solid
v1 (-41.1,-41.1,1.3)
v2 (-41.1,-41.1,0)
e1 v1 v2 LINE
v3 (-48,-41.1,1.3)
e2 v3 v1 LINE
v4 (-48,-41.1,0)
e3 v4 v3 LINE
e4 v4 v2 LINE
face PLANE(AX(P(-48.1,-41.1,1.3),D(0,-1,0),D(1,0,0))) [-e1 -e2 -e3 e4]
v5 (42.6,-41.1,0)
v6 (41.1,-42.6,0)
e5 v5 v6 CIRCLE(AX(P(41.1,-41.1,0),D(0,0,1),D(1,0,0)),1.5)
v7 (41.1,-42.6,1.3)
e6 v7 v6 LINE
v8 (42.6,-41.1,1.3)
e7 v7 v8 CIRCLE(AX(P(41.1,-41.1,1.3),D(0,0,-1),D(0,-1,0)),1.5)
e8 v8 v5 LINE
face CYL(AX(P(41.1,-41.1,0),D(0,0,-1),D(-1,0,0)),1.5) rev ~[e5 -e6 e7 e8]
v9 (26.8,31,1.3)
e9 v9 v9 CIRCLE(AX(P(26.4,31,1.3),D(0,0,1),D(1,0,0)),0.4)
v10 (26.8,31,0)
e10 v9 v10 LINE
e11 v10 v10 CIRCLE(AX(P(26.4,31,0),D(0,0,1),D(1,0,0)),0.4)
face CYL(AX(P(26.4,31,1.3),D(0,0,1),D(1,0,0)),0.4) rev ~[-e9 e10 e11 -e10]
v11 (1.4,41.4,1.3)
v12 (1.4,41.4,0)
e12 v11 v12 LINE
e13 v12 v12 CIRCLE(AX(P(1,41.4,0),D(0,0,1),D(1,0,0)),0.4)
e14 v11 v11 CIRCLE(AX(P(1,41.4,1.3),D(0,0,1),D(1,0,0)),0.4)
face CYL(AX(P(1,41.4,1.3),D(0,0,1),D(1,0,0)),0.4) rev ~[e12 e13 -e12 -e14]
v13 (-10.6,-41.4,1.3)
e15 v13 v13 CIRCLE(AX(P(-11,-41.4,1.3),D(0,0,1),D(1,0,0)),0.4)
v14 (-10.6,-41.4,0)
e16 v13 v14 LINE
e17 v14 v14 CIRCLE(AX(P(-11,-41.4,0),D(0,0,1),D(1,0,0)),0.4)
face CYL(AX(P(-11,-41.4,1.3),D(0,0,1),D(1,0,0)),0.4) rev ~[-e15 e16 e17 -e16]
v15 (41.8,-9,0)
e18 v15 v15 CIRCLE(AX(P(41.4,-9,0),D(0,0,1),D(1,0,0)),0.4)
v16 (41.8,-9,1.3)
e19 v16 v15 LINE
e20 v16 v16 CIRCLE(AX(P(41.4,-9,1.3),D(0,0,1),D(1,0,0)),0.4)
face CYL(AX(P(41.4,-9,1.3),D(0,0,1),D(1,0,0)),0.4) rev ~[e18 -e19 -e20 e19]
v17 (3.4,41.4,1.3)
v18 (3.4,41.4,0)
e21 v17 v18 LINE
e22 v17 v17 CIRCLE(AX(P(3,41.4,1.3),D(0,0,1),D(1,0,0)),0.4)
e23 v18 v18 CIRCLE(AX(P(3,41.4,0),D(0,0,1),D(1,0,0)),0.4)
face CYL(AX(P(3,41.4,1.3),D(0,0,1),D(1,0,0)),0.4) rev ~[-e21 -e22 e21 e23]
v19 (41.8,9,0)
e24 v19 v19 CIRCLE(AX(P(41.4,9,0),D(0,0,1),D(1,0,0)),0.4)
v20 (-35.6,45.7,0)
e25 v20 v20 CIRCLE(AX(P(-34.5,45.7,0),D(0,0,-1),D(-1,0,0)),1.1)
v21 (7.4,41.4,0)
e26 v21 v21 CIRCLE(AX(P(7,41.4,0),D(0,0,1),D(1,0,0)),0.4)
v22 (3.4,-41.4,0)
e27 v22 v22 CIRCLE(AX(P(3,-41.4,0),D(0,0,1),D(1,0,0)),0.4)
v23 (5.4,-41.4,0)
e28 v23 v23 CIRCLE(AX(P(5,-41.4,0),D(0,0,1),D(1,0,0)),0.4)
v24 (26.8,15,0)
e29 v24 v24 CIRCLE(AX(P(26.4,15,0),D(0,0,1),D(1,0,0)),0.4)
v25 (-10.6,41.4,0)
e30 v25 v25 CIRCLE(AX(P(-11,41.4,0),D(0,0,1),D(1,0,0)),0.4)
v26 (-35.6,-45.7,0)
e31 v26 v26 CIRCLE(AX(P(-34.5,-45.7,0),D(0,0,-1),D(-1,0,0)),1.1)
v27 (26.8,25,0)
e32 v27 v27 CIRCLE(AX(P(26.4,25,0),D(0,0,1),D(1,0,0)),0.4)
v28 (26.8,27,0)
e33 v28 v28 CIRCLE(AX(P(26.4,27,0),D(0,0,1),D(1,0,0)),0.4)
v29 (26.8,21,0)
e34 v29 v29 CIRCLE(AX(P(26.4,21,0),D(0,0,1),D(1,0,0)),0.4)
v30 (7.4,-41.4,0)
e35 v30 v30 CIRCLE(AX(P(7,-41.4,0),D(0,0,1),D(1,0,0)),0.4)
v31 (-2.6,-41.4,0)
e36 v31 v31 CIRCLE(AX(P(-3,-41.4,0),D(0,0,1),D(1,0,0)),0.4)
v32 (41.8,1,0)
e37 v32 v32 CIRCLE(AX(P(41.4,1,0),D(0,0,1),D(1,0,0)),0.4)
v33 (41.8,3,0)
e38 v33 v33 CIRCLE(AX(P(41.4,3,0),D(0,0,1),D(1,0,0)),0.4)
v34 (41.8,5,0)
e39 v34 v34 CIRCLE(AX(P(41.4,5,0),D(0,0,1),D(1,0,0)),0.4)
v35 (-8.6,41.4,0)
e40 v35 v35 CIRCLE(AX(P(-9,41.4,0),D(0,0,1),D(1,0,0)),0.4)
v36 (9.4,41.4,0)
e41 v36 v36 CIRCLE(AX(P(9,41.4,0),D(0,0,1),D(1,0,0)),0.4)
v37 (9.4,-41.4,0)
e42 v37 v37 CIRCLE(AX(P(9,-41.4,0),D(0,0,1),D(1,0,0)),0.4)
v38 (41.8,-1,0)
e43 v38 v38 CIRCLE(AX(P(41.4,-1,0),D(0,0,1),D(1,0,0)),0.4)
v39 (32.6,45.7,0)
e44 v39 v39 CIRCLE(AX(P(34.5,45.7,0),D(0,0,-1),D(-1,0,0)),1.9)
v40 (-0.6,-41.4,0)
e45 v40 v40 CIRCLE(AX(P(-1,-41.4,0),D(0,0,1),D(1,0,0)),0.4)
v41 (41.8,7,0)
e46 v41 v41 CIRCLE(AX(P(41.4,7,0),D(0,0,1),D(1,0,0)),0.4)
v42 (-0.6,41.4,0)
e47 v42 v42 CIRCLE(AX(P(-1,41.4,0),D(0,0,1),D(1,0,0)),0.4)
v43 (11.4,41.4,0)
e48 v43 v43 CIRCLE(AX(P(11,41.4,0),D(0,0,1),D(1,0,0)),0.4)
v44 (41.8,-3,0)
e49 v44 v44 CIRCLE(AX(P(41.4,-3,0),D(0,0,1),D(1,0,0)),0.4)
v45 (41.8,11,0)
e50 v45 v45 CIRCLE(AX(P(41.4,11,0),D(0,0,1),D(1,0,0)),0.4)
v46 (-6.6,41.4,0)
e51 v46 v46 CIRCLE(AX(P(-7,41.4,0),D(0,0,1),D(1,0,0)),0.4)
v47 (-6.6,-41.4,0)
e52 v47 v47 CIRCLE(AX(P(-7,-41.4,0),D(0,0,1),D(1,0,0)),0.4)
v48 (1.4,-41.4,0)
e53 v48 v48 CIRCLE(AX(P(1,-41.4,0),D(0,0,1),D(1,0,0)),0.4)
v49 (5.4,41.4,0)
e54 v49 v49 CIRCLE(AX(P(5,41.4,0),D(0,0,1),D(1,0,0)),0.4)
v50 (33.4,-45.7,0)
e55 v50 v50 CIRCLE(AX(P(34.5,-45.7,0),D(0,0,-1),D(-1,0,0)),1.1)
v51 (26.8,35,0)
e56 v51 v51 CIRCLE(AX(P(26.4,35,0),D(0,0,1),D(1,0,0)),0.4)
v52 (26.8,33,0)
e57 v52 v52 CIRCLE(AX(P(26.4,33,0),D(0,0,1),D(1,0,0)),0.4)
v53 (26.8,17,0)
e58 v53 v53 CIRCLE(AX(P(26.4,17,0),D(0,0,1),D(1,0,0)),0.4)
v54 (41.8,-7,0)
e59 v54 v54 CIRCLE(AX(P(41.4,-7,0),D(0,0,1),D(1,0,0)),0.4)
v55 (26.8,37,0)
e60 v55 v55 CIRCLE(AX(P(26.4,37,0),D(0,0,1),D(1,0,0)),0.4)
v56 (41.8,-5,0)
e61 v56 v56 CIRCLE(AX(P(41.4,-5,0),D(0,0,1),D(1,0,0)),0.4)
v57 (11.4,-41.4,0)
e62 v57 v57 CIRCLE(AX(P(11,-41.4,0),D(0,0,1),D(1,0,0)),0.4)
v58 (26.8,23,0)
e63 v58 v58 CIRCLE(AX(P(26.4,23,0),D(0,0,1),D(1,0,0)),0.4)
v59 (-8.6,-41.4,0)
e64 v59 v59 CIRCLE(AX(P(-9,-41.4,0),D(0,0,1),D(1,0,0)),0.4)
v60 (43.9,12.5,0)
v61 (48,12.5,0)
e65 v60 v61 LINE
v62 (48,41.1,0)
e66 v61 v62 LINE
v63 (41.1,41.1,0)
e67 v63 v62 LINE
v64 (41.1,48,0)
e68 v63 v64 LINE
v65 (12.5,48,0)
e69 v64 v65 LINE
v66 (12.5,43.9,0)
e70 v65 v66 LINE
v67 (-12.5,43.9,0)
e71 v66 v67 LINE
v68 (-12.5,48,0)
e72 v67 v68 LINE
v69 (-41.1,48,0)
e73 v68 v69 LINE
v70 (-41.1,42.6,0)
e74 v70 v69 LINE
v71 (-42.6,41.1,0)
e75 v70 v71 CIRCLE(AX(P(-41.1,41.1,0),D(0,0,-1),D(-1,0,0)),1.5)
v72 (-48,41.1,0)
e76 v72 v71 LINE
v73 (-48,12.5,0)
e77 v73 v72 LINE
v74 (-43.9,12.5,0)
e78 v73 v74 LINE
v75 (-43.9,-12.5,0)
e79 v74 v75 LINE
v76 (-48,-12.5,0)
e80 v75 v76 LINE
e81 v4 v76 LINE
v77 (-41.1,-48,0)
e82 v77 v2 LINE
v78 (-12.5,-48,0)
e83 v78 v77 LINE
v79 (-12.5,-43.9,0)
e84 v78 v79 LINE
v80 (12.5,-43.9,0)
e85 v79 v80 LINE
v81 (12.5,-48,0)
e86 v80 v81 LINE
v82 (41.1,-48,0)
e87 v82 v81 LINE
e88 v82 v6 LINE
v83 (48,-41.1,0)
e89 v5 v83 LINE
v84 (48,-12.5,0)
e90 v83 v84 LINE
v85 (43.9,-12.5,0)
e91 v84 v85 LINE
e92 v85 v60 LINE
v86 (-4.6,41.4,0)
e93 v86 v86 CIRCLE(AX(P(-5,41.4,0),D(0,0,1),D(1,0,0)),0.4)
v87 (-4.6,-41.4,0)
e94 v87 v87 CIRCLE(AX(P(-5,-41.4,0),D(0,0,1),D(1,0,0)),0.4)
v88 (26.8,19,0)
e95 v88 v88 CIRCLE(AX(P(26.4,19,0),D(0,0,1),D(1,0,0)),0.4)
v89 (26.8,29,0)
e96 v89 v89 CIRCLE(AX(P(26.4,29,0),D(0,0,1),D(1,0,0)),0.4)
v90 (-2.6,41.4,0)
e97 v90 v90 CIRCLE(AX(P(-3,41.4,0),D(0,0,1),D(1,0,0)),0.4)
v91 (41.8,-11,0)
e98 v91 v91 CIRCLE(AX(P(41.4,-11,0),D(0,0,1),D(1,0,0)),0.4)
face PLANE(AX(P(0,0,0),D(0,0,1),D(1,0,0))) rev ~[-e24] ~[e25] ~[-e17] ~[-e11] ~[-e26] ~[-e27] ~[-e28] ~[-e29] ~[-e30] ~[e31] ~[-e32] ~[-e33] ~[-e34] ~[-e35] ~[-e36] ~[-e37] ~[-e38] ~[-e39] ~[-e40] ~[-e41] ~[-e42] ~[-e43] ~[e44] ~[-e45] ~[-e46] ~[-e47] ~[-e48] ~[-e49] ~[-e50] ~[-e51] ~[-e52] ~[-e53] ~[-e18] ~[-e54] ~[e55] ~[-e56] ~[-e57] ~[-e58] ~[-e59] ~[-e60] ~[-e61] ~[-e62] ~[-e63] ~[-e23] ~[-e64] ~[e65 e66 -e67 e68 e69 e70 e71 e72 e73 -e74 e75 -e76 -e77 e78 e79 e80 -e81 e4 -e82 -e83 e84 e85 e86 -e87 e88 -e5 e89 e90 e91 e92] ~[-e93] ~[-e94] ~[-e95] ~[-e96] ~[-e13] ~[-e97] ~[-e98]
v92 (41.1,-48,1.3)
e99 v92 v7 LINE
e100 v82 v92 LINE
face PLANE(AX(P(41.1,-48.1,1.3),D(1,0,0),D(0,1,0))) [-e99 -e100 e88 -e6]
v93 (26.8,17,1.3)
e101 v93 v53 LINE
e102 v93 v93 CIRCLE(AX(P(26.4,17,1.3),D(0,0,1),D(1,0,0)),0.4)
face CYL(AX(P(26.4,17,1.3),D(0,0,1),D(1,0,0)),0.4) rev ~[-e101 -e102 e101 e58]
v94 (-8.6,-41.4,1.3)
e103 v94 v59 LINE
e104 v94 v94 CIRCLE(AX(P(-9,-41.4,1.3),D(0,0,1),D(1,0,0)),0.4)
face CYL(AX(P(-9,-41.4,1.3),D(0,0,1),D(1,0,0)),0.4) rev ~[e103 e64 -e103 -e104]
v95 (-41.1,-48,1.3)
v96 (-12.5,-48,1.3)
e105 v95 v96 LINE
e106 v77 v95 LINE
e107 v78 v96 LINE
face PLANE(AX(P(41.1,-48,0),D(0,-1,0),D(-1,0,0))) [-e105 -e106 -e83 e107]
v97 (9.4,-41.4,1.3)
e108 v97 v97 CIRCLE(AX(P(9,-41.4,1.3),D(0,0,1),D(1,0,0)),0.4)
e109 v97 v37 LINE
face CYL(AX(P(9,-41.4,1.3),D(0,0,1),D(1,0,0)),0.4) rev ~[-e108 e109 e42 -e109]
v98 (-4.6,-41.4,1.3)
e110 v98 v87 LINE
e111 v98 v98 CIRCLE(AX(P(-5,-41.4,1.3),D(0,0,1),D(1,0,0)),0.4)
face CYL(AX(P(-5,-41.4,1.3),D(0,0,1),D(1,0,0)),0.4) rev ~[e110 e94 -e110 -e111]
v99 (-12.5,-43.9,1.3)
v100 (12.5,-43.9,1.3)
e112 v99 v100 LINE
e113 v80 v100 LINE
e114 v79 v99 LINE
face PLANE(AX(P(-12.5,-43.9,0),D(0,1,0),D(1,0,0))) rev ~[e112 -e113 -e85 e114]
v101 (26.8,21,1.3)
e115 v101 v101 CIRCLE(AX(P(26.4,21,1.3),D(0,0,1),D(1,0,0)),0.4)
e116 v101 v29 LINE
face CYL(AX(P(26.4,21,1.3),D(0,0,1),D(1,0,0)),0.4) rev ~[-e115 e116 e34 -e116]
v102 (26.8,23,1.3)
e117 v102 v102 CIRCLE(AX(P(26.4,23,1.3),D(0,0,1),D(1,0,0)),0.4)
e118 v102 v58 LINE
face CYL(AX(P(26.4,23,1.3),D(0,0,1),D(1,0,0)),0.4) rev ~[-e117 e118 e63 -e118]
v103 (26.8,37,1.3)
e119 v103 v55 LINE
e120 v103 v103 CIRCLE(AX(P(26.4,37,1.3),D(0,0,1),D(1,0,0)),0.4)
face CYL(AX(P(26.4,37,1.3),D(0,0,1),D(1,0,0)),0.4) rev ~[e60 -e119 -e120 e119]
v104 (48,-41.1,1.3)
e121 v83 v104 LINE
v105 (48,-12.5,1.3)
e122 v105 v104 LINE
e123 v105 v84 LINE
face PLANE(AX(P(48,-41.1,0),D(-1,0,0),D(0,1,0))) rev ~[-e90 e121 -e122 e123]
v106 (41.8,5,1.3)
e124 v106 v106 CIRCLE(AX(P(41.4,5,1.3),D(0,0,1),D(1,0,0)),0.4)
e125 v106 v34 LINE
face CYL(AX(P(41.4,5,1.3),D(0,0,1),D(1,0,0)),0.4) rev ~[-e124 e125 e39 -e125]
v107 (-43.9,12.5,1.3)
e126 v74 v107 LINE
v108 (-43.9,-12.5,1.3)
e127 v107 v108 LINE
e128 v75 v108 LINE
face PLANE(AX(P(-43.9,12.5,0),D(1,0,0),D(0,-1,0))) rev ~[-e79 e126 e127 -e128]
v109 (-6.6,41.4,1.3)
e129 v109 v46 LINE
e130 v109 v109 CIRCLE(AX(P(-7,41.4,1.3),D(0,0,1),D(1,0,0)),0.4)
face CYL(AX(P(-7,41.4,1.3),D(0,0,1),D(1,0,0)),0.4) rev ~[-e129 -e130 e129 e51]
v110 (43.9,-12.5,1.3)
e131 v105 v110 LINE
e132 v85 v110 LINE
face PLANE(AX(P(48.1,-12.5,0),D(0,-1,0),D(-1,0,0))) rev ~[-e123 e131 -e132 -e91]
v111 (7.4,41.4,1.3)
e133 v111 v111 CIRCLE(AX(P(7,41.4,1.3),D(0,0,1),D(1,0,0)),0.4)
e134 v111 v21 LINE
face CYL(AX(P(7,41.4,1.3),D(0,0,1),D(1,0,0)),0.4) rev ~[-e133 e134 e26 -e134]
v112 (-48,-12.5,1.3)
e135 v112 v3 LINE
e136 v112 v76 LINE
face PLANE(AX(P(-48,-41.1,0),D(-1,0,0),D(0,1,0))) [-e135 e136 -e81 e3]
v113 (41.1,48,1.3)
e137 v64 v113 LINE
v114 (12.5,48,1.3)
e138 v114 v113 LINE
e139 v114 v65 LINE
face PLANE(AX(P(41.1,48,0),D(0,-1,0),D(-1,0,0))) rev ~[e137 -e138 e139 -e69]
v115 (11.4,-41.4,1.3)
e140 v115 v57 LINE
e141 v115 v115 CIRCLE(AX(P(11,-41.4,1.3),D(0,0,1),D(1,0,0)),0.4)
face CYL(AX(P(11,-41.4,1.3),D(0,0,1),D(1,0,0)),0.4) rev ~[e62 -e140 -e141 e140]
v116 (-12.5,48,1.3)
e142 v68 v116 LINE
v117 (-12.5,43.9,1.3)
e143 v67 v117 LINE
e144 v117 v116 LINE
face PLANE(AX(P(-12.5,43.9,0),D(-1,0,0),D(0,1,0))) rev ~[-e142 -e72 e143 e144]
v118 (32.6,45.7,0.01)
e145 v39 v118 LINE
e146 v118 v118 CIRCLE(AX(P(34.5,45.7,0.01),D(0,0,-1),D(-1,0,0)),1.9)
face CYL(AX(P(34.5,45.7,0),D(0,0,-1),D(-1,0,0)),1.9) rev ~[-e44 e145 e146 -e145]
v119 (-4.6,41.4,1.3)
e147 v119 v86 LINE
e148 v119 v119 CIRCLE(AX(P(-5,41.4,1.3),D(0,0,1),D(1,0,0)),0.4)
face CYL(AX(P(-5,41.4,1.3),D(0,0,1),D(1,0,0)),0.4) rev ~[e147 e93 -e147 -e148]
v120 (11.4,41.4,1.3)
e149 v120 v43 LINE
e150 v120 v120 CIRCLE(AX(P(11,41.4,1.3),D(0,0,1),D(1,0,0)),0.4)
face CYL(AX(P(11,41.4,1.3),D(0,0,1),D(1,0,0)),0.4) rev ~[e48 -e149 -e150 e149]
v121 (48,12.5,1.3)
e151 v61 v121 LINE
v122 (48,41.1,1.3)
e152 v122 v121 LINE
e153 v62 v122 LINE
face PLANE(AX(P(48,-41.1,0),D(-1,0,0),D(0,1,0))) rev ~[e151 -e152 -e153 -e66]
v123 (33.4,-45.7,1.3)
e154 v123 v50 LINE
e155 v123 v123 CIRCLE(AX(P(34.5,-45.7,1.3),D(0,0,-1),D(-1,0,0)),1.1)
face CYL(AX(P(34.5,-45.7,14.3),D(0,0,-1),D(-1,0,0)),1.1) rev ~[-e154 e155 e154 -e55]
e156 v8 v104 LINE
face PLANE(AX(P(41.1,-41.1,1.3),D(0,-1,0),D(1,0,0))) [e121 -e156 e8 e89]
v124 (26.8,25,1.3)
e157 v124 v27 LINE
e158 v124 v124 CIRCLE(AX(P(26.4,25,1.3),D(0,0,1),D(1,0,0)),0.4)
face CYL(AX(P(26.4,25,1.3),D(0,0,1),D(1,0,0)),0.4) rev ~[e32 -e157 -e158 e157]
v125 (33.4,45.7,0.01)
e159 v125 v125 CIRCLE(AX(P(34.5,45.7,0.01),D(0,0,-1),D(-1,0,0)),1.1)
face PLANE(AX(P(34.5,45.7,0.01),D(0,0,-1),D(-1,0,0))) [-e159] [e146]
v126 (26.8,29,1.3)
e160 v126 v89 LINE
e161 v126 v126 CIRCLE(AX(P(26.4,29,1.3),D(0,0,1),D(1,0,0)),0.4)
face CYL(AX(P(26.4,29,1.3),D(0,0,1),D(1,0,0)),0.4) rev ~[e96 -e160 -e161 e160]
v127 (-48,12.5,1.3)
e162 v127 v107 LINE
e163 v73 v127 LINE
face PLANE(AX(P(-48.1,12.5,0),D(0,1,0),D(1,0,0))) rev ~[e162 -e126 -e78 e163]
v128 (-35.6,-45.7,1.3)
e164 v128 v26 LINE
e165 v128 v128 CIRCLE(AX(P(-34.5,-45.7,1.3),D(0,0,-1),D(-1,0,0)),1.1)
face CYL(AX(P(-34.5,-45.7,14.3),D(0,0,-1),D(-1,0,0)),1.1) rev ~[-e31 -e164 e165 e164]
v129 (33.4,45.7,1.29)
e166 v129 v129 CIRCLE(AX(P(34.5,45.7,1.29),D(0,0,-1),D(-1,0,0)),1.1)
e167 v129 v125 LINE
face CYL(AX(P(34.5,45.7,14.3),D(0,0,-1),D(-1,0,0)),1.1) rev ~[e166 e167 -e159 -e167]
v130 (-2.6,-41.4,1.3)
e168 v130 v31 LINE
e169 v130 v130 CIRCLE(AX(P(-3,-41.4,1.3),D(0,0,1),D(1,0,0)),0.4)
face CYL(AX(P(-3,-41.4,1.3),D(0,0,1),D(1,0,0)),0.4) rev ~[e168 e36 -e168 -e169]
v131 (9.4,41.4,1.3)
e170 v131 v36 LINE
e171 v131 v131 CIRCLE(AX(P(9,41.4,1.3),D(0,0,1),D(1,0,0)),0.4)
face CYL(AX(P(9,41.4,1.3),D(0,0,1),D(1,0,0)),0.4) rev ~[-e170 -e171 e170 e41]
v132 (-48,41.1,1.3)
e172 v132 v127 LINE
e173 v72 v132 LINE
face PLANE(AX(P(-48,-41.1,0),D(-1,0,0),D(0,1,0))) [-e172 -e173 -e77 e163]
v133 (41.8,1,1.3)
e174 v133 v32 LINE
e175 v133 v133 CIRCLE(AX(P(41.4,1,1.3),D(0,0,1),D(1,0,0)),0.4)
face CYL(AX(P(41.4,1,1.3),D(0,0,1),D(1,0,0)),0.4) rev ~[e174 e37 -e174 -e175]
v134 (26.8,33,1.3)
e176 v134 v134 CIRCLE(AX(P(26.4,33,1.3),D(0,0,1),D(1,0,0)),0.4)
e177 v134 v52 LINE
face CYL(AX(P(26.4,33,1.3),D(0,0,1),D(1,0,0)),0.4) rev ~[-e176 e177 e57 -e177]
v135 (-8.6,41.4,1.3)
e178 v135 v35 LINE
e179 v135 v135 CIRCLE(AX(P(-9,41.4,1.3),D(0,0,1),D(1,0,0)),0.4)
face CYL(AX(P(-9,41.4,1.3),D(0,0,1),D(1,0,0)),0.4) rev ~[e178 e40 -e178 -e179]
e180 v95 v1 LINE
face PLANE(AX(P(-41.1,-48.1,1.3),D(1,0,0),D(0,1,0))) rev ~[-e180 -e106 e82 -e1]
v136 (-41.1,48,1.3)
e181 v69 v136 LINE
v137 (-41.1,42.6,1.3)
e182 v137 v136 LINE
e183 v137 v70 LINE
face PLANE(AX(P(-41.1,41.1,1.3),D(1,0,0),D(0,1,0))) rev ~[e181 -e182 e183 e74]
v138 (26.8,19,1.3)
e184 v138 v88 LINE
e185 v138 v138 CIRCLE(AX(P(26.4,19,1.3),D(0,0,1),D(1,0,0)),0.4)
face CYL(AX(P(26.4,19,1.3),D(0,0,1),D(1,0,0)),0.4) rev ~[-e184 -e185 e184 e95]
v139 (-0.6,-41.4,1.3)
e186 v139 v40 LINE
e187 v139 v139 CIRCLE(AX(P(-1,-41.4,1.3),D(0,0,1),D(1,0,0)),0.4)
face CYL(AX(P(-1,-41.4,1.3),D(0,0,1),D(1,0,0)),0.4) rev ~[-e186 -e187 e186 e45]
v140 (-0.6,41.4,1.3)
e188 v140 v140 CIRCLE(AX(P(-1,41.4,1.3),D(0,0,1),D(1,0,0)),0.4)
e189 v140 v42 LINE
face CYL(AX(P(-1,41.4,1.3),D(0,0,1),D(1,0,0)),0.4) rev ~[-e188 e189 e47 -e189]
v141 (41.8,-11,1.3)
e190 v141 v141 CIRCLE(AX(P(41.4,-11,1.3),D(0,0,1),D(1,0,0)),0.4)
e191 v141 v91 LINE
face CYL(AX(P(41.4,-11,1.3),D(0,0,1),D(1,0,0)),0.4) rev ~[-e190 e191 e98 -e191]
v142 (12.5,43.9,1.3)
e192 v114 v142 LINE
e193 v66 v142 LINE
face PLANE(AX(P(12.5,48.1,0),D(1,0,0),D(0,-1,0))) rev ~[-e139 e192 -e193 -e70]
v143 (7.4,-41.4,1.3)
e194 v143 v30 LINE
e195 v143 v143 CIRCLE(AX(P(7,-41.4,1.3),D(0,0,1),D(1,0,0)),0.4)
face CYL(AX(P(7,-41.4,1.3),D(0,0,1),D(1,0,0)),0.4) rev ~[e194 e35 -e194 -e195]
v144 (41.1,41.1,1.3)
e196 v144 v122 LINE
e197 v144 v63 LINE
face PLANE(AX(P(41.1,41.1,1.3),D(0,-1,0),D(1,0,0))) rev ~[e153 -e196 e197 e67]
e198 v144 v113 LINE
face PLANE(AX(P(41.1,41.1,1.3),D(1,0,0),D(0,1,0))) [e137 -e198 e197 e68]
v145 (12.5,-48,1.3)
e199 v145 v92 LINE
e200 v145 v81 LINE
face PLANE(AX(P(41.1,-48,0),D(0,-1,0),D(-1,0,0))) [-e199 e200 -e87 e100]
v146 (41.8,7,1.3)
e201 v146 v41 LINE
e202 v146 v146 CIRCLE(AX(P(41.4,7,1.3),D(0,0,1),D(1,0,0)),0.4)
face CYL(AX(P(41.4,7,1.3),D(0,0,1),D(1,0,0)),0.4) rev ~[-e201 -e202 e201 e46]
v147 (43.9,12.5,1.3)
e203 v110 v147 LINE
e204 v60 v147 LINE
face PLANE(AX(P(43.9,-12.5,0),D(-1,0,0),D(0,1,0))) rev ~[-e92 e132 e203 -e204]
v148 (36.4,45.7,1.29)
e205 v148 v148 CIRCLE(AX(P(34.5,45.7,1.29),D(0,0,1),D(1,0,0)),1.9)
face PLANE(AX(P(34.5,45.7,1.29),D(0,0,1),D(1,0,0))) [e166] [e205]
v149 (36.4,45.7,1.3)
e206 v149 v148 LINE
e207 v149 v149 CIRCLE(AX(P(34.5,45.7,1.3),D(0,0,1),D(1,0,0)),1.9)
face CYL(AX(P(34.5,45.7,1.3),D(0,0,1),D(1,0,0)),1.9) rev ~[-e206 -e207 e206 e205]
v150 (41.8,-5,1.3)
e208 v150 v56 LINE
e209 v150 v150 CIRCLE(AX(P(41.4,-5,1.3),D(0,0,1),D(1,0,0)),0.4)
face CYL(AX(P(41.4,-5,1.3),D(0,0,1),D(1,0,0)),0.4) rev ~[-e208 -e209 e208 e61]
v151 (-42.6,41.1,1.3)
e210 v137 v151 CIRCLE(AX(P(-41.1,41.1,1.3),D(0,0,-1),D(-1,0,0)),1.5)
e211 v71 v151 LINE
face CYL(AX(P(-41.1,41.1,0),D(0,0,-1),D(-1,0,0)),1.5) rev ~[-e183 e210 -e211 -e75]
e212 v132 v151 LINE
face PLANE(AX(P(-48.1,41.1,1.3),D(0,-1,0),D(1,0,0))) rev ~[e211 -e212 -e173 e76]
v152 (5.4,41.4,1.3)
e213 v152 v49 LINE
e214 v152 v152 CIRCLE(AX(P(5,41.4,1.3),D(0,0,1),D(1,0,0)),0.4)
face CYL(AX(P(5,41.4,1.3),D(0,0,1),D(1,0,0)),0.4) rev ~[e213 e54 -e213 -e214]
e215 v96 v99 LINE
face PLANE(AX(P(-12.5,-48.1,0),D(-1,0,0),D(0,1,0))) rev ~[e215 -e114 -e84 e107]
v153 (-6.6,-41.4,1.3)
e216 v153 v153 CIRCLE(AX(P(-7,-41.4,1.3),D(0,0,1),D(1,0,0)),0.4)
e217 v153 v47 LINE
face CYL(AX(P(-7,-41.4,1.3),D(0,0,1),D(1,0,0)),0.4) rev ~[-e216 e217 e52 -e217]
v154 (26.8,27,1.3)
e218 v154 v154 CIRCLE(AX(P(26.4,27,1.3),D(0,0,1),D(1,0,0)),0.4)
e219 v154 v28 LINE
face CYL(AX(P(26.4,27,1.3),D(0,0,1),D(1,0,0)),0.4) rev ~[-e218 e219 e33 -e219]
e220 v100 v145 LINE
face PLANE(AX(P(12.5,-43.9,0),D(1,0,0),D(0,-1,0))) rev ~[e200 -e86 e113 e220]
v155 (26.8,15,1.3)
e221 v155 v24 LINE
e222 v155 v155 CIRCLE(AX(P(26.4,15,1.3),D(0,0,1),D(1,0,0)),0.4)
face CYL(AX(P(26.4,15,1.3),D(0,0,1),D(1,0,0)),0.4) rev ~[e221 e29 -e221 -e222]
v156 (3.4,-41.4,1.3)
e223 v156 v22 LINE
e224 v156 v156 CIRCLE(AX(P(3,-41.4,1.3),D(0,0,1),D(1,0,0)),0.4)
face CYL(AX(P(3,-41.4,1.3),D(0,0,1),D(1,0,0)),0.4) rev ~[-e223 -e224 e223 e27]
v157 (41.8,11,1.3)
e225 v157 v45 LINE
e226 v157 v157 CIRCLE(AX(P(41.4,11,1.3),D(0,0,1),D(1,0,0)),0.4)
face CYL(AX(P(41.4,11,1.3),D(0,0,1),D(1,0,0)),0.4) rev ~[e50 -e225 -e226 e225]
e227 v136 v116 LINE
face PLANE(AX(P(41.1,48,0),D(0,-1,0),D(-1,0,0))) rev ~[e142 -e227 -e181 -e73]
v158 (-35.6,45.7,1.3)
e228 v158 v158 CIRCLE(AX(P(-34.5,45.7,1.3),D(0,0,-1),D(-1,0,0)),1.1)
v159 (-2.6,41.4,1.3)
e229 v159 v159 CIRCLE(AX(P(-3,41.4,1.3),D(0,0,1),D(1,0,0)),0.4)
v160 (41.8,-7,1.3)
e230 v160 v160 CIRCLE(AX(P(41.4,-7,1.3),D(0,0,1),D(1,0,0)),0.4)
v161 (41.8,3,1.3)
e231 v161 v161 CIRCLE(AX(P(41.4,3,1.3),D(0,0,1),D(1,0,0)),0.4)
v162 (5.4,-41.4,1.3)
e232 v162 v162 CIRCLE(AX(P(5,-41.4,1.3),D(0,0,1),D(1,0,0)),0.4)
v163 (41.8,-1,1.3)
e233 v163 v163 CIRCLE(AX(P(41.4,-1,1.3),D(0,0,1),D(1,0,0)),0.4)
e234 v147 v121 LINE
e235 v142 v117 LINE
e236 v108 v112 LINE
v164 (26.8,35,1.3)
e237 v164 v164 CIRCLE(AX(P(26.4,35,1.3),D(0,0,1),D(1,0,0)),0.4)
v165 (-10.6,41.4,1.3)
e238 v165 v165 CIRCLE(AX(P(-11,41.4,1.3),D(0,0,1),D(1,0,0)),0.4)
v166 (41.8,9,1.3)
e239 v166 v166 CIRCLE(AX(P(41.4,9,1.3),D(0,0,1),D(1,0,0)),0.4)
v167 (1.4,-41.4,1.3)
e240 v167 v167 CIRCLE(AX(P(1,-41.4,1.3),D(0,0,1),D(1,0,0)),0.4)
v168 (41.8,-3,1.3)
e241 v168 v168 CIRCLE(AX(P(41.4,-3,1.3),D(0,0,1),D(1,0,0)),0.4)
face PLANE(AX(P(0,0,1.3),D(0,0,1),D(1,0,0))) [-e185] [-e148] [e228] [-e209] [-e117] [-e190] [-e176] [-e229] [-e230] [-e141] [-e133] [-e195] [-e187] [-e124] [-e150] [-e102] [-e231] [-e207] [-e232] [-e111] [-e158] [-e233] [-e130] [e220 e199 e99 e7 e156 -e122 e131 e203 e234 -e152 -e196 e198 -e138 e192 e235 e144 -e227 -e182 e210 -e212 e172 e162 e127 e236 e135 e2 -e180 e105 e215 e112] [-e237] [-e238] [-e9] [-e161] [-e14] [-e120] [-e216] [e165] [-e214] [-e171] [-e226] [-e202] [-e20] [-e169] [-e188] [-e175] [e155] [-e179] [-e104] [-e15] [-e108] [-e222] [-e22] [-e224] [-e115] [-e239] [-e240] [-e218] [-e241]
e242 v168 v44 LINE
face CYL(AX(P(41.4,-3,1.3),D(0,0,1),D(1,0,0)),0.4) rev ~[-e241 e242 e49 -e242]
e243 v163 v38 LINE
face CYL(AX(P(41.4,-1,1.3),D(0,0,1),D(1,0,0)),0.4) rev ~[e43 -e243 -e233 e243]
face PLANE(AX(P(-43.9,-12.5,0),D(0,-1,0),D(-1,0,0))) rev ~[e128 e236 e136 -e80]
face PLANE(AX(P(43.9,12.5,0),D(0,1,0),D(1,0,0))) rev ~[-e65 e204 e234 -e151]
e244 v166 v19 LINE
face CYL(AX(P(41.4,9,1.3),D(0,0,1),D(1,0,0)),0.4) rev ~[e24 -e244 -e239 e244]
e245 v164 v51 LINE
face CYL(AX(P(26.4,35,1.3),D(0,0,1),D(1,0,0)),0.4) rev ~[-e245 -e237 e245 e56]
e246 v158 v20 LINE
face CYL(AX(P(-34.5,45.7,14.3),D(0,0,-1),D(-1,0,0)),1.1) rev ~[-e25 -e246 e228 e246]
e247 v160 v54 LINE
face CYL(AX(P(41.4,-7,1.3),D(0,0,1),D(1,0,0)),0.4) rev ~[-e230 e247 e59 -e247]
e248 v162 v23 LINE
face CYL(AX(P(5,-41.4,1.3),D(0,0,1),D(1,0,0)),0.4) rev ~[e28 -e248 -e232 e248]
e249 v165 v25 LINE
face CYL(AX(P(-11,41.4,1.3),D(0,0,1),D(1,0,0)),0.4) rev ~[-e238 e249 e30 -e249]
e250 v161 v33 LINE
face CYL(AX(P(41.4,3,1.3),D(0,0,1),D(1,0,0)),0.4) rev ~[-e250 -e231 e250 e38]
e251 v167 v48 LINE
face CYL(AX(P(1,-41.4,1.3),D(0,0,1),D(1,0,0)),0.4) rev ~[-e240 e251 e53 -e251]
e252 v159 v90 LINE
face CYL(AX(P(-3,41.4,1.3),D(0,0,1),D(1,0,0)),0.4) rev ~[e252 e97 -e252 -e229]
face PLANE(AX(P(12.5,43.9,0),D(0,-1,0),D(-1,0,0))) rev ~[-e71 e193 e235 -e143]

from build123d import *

# Parameters (mm, degrees)
BOSS_EXTRUDE1_DEPTH            = 1.3
SKETCH2_W                      = 7
SKETCH2_H                      = 7
CUT_EXTRUDE1_DEPTH             = 8.5
F_2_2_2_2_DIAMETER_HOLE1_D     = 2.2
F_2_2_2_2_DIAMETER_HOLE1_DEPTH = 13
SKETCH18_R                     = 1.5
CUT_EXTRUDE2_DEPTH             = 2.3
SKETCH19_W                     = 0.1
SKETCH19_H                     = 82.2
SKETCH19_W_2                   = 82.2
SKETCH19_H_2                   = 0.1
CUT_EXTRUDE3_DEPTH             = 2.3
CUT_EXTRUDE4_REACH             = 3.3
SKETCH20_R                     = 0.4
SKETCH21_R                     = 0.4
CUT_EXTRUDE5_DEPTH             = 2.3
SKETCH22_R                     = 0.4
CUT_EXTRUDE6_DEPTH             = 2.3
SKETCH23_R                     = 0.4
CUT_EXTRUDE7_DEPTH             = 2.3
SKETCH_1_R                     = 1.9
CUT_EXTRUDE_1_DEPTH            = 0.01
SKETCH_2_R                     = 1.9
CUT_EXTRUDE_2_DEPTH            = 0.01


with BuildPart() as part:
    # Sketch1 → Boss-Extrude1 (new body)
    with BuildSketch(Plane.XY):
        Polygon((-48.1, 12.5), (-43.9, 12.5), (-43.9, -12.5), (-48.1, -12.5), (-48.1, -48.1), (-12.5, -48.1), (-12.5, -43.9), (12.5, -43.9), (12.5, -48.1), (48.1, -48.1), (48.1, -12.5), (43.9, -12.5), (43.9, 12.5), (48.1, 12.5), (48.1, 48.1), (12.5, 48.1), (12.5, 43.9), (-12.5, 43.9), (-12.5, 48.1), (-48.1, 48.1), align=None)
    extrude(amount=BOSS_EXTRUDE1_DEPTH)

    # Sketch2 → Cut-Extrude1 (cut)
    with BuildSketch(Plane.XY.offset(1.3)):
        with Locations((-44.6, 44.6)):
            Rectangle(SKETCH2_W, SKETCH2_H)
        with Locations((44.6, 44.6)):
            Rectangle(SKETCH2_W, SKETCH2_H)
        with Locations((44.6, -44.6)):
            Rectangle(SKETCH2_W, SKETCH2_H)
        with Locations((-44.6, -44.6)):
            Rectangle(SKETCH2_W, SKETCH2_H)
    extrude(amount=-CUT_EXTRUDE1_DEPTH, mode=Mode.SUBTRACT)

    # Ø2.2 (2.2) Diameter Hole1
    with Locations(Plane.XY.offset(1.3)):
        with Locations((-34.5, 45.7), (34.5, 45.7), (-34.5, -45.7), (34.5, -45.7)):
            Hole(F_2_2_2_2_DIAMETER_HOLE1_D / 2, depth=F_2_2_2_2_DIAMETER_HOLE1_DEPTH)

    # Sketch18 → Cut-Extrude2 (cut, through all)
    with BuildSketch(Plane(origin=(0, 0, 0), x_dir=(-1, 0, 0), z_dir=(0, 0, -1))):
        with Locations((41.1, 41.1)):
            Circle(SKETCH18_R)
        with Locations((-41.1, -41.1)):
            Circle(SKETCH18_R)
    extrude(amount=-CUT_EXTRUDE2_DEPTH, mode=Mode.SUBTRACT)

    # Sketch19 → Cut-Extrude3 (cut, through all)
    with BuildSketch(Plane(origin=(0, 0, 0), x_dir=(-1, 0, 0), z_dir=(0, 0, -1))):
        with Locations((48.05, 0)):
            Rectangle(SKETCH19_W, SKETCH19_H)
        with Locations((0, -48.05)):
            Rectangle(SKETCH19_W_2, SKETCH19_H_2)
        with Locations((-48.05, 0)):
            Rectangle(SKETCH19_W, SKETCH19_H)
        with Locations((0, 48.05)):
            Rectangle(SKETCH19_W_2, SKETCH19_H_2)
    extrude(amount=-CUT_EXTRUDE3_DEPTH, mode=Mode.SUBTRACT)

    # Sketch20 → Cut-Extrude4 (cut, up to next)
    with BuildSketch(Plane.XY.offset(1.3), mode=Mode.PRIVATE) as cut_extrude4_sk1:
        with Locations((26.4, 15)):
            Circle(SKETCH20_R)
    cut_extrude4_tool1 = extrude(cut_extrude4_sk1.sketch, amount=-CUT_EXTRUDE4_REACH, mode=Mode.PRIVATE) & part.part
    add(cut_extrude4_tool1.solids().sort_by_distance((26.4, 15, 1.3))[0], mode=Mode.SUBTRACT)
    # Sketch20 → Cut-Extrude4 (cut, up to next)
    with BuildSketch(Plane.XY.offset(1.3), mode=Mode.PRIVATE) as cut_extrude4_sk2:
        with Locations((26.4, 17)):
            Circle(SKETCH20_R)
    cut_extrude4_tool2 = extrude(cut_extrude4_sk2.sketch, amount=-CUT_EXTRUDE4_REACH, mode=Mode.PRIVATE) & part.part
    add(cut_extrude4_tool2.solids().sort_by_distance((26.4, 17, 1.3))[0], mode=Mode.SUBTRACT)
    # Sketch20 → Cut-Extrude4 (cut, up to next)
    with BuildSketch(Plane.XY.offset(1.3), mode=Mode.PRIVATE) as cut_extrude4_sk3:
        with Locations((26.4, 19)):
            Circle(SKETCH20_R)
    cut_extrude4_tool3 = extrude(cut_extrude4_sk3.sketch, amount=-CUT_EXTRUDE4_REACH, mode=Mode.PRIVATE) & part.part
    add(cut_extrude4_tool3.solids().sort_by_distance((26.4, 19, 1.3))[0], mode=Mode.SUBTRACT)
    # Sketch20 → Cut-Extrude4 (cut, up to next)
    with BuildSketch(Plane.XY.offset(1.3), mode=Mode.PRIVATE) as cut_extrude4_sk4:
        with Locations((26.4, 21)):
            Circle(SKETCH20_R)
    cut_extrude4_tool4 = extrude(cut_extrude4_sk4.sketch, amount=-CUT_EXTRUDE4_REACH, mode=Mode.PRIVATE) & part.part
    add(cut_extrude4_tool4.solids().sort_by_distance((26.4, 21, 1.3))[0], mode=Mode.SUBTRACT)
    # Sketch20 → Cut-Extrude4 (cut, up to next)
    with BuildSketch(Plane.XY.offset(1.3), mode=Mode.PRIVATE) as cut_extrude4_sk5:
        with Locations((26.4, 23)):
            Circle(SKETCH20_R)
    cut_extrude4_tool5 = extrude(cut_extrude4_sk5.sketch, amount=-CUT_EXTRUDE4_REACH, mode=Mode.PRIVATE) & part.part
    add(cut_extrude4_tool5.solids().sort_by_distance((26.4, 23, 1.3))[0], mode=Mode.SUBTRACT)
    # Sketch20 → Cut-Extrude4 (cut, up to next)
    with BuildSketch(Plane.XY.offset(1.3), mode=Mode.PRIVATE) as cut_extrude4_sk6:
        with Locations((26.4, 25)):
            Circle(SKETCH20_R)
    cut_extrude4_tool6 = extrude(cut_extrude4_sk6.sketch, amount=-CUT_EXTRUDE4_REACH, mode=Mode.PRIVATE) & part.part
    add(cut_extrude4_tool6.solids().sort_by_distance((26.4, 25, 1.3))[0], mode=Mode.SUBTRACT)
    # Sketch20 → Cut-Extrude4 (cut, up to next)
    with BuildSketch(Plane.XY.offset(1.3), mode=Mode.PRIVATE) as cut_extrude4_sk7:
        with Locations((26.4, 27)):
            Circle(SKETCH20_R)
    cut_extrude4_tool7 = extrude(cut_extrude4_sk7.sketch, amount=-CUT_EXTRUDE4_REACH, mode=Mode.PRIVATE) & part.part
    add(cut_extrude4_tool7.solids().sort_by_distance((26.4, 27, 1.3))[0], mode=Mode.SUBTRACT)
    # Sketch20 → Cut-Extrude4 (cut, up to next)
    with BuildSketch(Plane.XY.offset(1.3), mode=Mode.PRIVATE) as cut_extrude4_sk8:
        with Locations((26.4, 29)):
            Circle(SKETCH20_R)
    cut_extrude4_tool8 = extrude(cut_extrude4_sk8.sketch, amount=-CUT_EXTRUDE4_REACH, mode=Mode.PRIVATE) & part.part
    add(cut_extrude4_tool8.solids().sort_by_distance((26.4, 29, 1.3))[0], mode=Mode.SUBTRACT)
    # Sketch20 → Cut-Extrude4 (cut, up to next)
    with BuildSketch(Plane.XY.offset(1.3), mode=Mode.PRIVATE) as cut_extrude4_sk9:
        with Locations((26.4, 31)):
            Circle(SKETCH20_R)
    cut_extrude4_tool9 = extrude(cut_extrude4_sk9.sketch, amount=-CUT_EXTRUDE4_REACH, mode=Mode.PRIVATE) & part.part
    add(cut_extrude4_tool9.solids().sort_by_distance((26.4, 31, 1.3))[0], mode=Mode.SUBTRACT)
    # Sketch20 → Cut-Extrude4 (cut, up to next)
    with BuildSketch(Plane.XY.offset(1.3), mode=Mode.PRIVATE) as cut_extrude4_sk10:
        with Locations((26.4, 33)):
            Circle(SKETCH20_R)
    cut_extrude4_tool10 = extrude(cut_extrude4_sk10.sketch, amount=-CUT_EXTRUDE4_REACH, mode=Mode.PRIVATE) & part.part
    add(cut_extrude4_tool10.solids().sort_by_distance((26.4, 33, 1.3))[0], mode=Mode.SUBTRACT)
    # Sketch20 → Cut-Extrude4 (cut, up to next)
    with BuildSketch(Plane.XY.offset(1.3), mode=Mode.PRIVATE) as cut_extrude4_sk11:
        with Locations((26.4, 35)):
            Circle(SKETCH20_R)
    cut_extrude4_tool11 = extrude(cut_extrude4_sk11.sketch, amount=-CUT_EXTRUDE4_REACH, mode=Mode.PRIVATE) & part.part
    add(cut_extrude4_tool11.solids().sort_by_distance((26.4, 35, 1.3))[0], mode=Mode.SUBTRACT)
    # Sketch20 → Cut-Extrude4 (cut, up to next)
    with BuildSketch(Plane.XY.offset(1.3), mode=Mode.PRIVATE) as cut_extrude4_sk12:
        with Locations((26.4, 37)):
            Circle(SKETCH20_R)
    cut_extrude4_tool12 = extrude(cut_extrude4_sk12.sketch, amount=-CUT_EXTRUDE4_REACH, mode=Mode.PRIVATE) & part.part
    add(cut_extrude4_tool12.solids().sort_by_distance((26.4, 37, 1.3))[0], mode=Mode.SUBTRACT)

    # Sketch21 → Cut-Extrude5 (cut, through all)
    with BuildSketch(Plane.XY.offset(1.3)):
        with Locations((11, 41.4)):
            Circle(SKETCH21_R)
        with Locations((9, 41.4)):
            Circle(SKETCH21_R)
        with Locations((7, 41.4)):
            Circle(SKETCH21_R)
        with Locations((5, 41.4)):
            Circle(SKETCH21_R)
        with Locations((3, 41.4)):
            Circle(SKETCH21_R)
        with Locations((1, 41.4)):
            Circle(SKETCH21_R)
        with Locations((-1, 41.4)):
            Circle(SKETCH21_R)
        with Locations((-3, 41.4)):
            Circle(SKETCH21_R)
        with Locations((-5, 41.4)):
            Circle(SKETCH21_R)
        with Locations((-7, 41.4)):
            Circle(SKETCH21_R)
        with Locations((-9, 41.4)):
            Circle(SKETCH21_R)
        with Locations((-11, 41.4)):
            Circle(SKETCH21_R)
    extrude(amount=-CUT_EXTRUDE5_DEPTH, mode=Mode.SUBTRACT)

    # Sketch22 → Cut-Extrude6 (cut, through all)
    with BuildSketch(Plane.XY.offset(1.3)):
        with Locations((41.4, 11)):
            Circle(SKETCH22_R)
        with Locations((41.4, 9)):
            Circle(SKETCH22_R)
        with Locations((41.4, 7)):
            Circle(SKETCH22_R)
        with Locations((41.4, 5)):
            Circle(SKETCH22_R)
        with Locations((41.4, 3)):
            Circle(SKETCH22_R)
        with Locations((41.4, 1)):
            Circle(SKETCH22_R)
        with Locations((41.4, -1)):
            Circle(SKETCH22_R)
        with Locations((41.4, -3)):
            Circle(SKETCH22_R)
        with Locations((41.4, -5)):
            Circle(SKETCH22_R)
        with Locations((41.4, -7)):
            Circle(SKETCH22_R)
        with Locations((41.4, -9)):
            Circle(SKETCH22_R)
        with Locations((41.4, -11)):
            Circle(SKETCH22_R)
    extrude(amount=-CUT_EXTRUDE6_DEPTH, mode=Mode.SUBTRACT)

    # Sketch23 → Cut-Extrude7 (cut, through all)
    with BuildSketch(Plane.XY.offset(1.3)):
        with Locations((11, -41.4)):
            Circle(SKETCH23_R)
        with Locations((9, -41.4)):
            Circle(SKETCH23_R)
        with Locations((7, -41.4)):
            Circle(SKETCH23_R)
        with Locations((5, -41.4)):
            Circle(SKETCH23_R)
        with Locations((3, -41.4)):
            Circle(SKETCH23_R)
        with Locations((1, -41.4)):
            Circle(SKETCH23_R)
        with Locations((-1, -41.4)):
            Circle(SKETCH23_R)
        with Locations((-3, -41.4)):
            Circle(SKETCH23_R)
        with Locations((-5, -41.4)):
            Circle(SKETCH23_R)
        with Locations((-7, -41.4)):
            Circle(SKETCH23_R)
        with Locations((-9, -41.4)):
            Circle(SKETCH23_R)
        with Locations((-11, -41.4)):
            Circle(SKETCH23_R)
    extrude(amount=-CUT_EXTRUDE7_DEPTH, mode=Mode.SUBTRACT)

    # ｽｹｯﾁ1 → ｶｯﾄ - 押し出し1 (cut)
    with BuildSketch(Plane.XY.offset(1.3)):
        with Locations((34.5, 45.7)):
            Circle(SKETCH_1_R)
    extrude(amount=-CUT_EXTRUDE_1_DEPTH, mode=Mode.SUBTRACT)

    # ｽｹｯﾁ2 → ｶｯﾄ - 押し出し2 (cut)
    with BuildSketch(Plane(origin=(0, 0, 0), x_dir=(-1, 0, 0), z_dir=(0, 0, -1))):
        with Locations((-34.5, 45.7)):
            Circle(SKETCH_2_R)
    extrude(amount=-CUT_EXTRUDE_2_DEPTH, mode=Mode.SUBTRACT)


solid = part.part
